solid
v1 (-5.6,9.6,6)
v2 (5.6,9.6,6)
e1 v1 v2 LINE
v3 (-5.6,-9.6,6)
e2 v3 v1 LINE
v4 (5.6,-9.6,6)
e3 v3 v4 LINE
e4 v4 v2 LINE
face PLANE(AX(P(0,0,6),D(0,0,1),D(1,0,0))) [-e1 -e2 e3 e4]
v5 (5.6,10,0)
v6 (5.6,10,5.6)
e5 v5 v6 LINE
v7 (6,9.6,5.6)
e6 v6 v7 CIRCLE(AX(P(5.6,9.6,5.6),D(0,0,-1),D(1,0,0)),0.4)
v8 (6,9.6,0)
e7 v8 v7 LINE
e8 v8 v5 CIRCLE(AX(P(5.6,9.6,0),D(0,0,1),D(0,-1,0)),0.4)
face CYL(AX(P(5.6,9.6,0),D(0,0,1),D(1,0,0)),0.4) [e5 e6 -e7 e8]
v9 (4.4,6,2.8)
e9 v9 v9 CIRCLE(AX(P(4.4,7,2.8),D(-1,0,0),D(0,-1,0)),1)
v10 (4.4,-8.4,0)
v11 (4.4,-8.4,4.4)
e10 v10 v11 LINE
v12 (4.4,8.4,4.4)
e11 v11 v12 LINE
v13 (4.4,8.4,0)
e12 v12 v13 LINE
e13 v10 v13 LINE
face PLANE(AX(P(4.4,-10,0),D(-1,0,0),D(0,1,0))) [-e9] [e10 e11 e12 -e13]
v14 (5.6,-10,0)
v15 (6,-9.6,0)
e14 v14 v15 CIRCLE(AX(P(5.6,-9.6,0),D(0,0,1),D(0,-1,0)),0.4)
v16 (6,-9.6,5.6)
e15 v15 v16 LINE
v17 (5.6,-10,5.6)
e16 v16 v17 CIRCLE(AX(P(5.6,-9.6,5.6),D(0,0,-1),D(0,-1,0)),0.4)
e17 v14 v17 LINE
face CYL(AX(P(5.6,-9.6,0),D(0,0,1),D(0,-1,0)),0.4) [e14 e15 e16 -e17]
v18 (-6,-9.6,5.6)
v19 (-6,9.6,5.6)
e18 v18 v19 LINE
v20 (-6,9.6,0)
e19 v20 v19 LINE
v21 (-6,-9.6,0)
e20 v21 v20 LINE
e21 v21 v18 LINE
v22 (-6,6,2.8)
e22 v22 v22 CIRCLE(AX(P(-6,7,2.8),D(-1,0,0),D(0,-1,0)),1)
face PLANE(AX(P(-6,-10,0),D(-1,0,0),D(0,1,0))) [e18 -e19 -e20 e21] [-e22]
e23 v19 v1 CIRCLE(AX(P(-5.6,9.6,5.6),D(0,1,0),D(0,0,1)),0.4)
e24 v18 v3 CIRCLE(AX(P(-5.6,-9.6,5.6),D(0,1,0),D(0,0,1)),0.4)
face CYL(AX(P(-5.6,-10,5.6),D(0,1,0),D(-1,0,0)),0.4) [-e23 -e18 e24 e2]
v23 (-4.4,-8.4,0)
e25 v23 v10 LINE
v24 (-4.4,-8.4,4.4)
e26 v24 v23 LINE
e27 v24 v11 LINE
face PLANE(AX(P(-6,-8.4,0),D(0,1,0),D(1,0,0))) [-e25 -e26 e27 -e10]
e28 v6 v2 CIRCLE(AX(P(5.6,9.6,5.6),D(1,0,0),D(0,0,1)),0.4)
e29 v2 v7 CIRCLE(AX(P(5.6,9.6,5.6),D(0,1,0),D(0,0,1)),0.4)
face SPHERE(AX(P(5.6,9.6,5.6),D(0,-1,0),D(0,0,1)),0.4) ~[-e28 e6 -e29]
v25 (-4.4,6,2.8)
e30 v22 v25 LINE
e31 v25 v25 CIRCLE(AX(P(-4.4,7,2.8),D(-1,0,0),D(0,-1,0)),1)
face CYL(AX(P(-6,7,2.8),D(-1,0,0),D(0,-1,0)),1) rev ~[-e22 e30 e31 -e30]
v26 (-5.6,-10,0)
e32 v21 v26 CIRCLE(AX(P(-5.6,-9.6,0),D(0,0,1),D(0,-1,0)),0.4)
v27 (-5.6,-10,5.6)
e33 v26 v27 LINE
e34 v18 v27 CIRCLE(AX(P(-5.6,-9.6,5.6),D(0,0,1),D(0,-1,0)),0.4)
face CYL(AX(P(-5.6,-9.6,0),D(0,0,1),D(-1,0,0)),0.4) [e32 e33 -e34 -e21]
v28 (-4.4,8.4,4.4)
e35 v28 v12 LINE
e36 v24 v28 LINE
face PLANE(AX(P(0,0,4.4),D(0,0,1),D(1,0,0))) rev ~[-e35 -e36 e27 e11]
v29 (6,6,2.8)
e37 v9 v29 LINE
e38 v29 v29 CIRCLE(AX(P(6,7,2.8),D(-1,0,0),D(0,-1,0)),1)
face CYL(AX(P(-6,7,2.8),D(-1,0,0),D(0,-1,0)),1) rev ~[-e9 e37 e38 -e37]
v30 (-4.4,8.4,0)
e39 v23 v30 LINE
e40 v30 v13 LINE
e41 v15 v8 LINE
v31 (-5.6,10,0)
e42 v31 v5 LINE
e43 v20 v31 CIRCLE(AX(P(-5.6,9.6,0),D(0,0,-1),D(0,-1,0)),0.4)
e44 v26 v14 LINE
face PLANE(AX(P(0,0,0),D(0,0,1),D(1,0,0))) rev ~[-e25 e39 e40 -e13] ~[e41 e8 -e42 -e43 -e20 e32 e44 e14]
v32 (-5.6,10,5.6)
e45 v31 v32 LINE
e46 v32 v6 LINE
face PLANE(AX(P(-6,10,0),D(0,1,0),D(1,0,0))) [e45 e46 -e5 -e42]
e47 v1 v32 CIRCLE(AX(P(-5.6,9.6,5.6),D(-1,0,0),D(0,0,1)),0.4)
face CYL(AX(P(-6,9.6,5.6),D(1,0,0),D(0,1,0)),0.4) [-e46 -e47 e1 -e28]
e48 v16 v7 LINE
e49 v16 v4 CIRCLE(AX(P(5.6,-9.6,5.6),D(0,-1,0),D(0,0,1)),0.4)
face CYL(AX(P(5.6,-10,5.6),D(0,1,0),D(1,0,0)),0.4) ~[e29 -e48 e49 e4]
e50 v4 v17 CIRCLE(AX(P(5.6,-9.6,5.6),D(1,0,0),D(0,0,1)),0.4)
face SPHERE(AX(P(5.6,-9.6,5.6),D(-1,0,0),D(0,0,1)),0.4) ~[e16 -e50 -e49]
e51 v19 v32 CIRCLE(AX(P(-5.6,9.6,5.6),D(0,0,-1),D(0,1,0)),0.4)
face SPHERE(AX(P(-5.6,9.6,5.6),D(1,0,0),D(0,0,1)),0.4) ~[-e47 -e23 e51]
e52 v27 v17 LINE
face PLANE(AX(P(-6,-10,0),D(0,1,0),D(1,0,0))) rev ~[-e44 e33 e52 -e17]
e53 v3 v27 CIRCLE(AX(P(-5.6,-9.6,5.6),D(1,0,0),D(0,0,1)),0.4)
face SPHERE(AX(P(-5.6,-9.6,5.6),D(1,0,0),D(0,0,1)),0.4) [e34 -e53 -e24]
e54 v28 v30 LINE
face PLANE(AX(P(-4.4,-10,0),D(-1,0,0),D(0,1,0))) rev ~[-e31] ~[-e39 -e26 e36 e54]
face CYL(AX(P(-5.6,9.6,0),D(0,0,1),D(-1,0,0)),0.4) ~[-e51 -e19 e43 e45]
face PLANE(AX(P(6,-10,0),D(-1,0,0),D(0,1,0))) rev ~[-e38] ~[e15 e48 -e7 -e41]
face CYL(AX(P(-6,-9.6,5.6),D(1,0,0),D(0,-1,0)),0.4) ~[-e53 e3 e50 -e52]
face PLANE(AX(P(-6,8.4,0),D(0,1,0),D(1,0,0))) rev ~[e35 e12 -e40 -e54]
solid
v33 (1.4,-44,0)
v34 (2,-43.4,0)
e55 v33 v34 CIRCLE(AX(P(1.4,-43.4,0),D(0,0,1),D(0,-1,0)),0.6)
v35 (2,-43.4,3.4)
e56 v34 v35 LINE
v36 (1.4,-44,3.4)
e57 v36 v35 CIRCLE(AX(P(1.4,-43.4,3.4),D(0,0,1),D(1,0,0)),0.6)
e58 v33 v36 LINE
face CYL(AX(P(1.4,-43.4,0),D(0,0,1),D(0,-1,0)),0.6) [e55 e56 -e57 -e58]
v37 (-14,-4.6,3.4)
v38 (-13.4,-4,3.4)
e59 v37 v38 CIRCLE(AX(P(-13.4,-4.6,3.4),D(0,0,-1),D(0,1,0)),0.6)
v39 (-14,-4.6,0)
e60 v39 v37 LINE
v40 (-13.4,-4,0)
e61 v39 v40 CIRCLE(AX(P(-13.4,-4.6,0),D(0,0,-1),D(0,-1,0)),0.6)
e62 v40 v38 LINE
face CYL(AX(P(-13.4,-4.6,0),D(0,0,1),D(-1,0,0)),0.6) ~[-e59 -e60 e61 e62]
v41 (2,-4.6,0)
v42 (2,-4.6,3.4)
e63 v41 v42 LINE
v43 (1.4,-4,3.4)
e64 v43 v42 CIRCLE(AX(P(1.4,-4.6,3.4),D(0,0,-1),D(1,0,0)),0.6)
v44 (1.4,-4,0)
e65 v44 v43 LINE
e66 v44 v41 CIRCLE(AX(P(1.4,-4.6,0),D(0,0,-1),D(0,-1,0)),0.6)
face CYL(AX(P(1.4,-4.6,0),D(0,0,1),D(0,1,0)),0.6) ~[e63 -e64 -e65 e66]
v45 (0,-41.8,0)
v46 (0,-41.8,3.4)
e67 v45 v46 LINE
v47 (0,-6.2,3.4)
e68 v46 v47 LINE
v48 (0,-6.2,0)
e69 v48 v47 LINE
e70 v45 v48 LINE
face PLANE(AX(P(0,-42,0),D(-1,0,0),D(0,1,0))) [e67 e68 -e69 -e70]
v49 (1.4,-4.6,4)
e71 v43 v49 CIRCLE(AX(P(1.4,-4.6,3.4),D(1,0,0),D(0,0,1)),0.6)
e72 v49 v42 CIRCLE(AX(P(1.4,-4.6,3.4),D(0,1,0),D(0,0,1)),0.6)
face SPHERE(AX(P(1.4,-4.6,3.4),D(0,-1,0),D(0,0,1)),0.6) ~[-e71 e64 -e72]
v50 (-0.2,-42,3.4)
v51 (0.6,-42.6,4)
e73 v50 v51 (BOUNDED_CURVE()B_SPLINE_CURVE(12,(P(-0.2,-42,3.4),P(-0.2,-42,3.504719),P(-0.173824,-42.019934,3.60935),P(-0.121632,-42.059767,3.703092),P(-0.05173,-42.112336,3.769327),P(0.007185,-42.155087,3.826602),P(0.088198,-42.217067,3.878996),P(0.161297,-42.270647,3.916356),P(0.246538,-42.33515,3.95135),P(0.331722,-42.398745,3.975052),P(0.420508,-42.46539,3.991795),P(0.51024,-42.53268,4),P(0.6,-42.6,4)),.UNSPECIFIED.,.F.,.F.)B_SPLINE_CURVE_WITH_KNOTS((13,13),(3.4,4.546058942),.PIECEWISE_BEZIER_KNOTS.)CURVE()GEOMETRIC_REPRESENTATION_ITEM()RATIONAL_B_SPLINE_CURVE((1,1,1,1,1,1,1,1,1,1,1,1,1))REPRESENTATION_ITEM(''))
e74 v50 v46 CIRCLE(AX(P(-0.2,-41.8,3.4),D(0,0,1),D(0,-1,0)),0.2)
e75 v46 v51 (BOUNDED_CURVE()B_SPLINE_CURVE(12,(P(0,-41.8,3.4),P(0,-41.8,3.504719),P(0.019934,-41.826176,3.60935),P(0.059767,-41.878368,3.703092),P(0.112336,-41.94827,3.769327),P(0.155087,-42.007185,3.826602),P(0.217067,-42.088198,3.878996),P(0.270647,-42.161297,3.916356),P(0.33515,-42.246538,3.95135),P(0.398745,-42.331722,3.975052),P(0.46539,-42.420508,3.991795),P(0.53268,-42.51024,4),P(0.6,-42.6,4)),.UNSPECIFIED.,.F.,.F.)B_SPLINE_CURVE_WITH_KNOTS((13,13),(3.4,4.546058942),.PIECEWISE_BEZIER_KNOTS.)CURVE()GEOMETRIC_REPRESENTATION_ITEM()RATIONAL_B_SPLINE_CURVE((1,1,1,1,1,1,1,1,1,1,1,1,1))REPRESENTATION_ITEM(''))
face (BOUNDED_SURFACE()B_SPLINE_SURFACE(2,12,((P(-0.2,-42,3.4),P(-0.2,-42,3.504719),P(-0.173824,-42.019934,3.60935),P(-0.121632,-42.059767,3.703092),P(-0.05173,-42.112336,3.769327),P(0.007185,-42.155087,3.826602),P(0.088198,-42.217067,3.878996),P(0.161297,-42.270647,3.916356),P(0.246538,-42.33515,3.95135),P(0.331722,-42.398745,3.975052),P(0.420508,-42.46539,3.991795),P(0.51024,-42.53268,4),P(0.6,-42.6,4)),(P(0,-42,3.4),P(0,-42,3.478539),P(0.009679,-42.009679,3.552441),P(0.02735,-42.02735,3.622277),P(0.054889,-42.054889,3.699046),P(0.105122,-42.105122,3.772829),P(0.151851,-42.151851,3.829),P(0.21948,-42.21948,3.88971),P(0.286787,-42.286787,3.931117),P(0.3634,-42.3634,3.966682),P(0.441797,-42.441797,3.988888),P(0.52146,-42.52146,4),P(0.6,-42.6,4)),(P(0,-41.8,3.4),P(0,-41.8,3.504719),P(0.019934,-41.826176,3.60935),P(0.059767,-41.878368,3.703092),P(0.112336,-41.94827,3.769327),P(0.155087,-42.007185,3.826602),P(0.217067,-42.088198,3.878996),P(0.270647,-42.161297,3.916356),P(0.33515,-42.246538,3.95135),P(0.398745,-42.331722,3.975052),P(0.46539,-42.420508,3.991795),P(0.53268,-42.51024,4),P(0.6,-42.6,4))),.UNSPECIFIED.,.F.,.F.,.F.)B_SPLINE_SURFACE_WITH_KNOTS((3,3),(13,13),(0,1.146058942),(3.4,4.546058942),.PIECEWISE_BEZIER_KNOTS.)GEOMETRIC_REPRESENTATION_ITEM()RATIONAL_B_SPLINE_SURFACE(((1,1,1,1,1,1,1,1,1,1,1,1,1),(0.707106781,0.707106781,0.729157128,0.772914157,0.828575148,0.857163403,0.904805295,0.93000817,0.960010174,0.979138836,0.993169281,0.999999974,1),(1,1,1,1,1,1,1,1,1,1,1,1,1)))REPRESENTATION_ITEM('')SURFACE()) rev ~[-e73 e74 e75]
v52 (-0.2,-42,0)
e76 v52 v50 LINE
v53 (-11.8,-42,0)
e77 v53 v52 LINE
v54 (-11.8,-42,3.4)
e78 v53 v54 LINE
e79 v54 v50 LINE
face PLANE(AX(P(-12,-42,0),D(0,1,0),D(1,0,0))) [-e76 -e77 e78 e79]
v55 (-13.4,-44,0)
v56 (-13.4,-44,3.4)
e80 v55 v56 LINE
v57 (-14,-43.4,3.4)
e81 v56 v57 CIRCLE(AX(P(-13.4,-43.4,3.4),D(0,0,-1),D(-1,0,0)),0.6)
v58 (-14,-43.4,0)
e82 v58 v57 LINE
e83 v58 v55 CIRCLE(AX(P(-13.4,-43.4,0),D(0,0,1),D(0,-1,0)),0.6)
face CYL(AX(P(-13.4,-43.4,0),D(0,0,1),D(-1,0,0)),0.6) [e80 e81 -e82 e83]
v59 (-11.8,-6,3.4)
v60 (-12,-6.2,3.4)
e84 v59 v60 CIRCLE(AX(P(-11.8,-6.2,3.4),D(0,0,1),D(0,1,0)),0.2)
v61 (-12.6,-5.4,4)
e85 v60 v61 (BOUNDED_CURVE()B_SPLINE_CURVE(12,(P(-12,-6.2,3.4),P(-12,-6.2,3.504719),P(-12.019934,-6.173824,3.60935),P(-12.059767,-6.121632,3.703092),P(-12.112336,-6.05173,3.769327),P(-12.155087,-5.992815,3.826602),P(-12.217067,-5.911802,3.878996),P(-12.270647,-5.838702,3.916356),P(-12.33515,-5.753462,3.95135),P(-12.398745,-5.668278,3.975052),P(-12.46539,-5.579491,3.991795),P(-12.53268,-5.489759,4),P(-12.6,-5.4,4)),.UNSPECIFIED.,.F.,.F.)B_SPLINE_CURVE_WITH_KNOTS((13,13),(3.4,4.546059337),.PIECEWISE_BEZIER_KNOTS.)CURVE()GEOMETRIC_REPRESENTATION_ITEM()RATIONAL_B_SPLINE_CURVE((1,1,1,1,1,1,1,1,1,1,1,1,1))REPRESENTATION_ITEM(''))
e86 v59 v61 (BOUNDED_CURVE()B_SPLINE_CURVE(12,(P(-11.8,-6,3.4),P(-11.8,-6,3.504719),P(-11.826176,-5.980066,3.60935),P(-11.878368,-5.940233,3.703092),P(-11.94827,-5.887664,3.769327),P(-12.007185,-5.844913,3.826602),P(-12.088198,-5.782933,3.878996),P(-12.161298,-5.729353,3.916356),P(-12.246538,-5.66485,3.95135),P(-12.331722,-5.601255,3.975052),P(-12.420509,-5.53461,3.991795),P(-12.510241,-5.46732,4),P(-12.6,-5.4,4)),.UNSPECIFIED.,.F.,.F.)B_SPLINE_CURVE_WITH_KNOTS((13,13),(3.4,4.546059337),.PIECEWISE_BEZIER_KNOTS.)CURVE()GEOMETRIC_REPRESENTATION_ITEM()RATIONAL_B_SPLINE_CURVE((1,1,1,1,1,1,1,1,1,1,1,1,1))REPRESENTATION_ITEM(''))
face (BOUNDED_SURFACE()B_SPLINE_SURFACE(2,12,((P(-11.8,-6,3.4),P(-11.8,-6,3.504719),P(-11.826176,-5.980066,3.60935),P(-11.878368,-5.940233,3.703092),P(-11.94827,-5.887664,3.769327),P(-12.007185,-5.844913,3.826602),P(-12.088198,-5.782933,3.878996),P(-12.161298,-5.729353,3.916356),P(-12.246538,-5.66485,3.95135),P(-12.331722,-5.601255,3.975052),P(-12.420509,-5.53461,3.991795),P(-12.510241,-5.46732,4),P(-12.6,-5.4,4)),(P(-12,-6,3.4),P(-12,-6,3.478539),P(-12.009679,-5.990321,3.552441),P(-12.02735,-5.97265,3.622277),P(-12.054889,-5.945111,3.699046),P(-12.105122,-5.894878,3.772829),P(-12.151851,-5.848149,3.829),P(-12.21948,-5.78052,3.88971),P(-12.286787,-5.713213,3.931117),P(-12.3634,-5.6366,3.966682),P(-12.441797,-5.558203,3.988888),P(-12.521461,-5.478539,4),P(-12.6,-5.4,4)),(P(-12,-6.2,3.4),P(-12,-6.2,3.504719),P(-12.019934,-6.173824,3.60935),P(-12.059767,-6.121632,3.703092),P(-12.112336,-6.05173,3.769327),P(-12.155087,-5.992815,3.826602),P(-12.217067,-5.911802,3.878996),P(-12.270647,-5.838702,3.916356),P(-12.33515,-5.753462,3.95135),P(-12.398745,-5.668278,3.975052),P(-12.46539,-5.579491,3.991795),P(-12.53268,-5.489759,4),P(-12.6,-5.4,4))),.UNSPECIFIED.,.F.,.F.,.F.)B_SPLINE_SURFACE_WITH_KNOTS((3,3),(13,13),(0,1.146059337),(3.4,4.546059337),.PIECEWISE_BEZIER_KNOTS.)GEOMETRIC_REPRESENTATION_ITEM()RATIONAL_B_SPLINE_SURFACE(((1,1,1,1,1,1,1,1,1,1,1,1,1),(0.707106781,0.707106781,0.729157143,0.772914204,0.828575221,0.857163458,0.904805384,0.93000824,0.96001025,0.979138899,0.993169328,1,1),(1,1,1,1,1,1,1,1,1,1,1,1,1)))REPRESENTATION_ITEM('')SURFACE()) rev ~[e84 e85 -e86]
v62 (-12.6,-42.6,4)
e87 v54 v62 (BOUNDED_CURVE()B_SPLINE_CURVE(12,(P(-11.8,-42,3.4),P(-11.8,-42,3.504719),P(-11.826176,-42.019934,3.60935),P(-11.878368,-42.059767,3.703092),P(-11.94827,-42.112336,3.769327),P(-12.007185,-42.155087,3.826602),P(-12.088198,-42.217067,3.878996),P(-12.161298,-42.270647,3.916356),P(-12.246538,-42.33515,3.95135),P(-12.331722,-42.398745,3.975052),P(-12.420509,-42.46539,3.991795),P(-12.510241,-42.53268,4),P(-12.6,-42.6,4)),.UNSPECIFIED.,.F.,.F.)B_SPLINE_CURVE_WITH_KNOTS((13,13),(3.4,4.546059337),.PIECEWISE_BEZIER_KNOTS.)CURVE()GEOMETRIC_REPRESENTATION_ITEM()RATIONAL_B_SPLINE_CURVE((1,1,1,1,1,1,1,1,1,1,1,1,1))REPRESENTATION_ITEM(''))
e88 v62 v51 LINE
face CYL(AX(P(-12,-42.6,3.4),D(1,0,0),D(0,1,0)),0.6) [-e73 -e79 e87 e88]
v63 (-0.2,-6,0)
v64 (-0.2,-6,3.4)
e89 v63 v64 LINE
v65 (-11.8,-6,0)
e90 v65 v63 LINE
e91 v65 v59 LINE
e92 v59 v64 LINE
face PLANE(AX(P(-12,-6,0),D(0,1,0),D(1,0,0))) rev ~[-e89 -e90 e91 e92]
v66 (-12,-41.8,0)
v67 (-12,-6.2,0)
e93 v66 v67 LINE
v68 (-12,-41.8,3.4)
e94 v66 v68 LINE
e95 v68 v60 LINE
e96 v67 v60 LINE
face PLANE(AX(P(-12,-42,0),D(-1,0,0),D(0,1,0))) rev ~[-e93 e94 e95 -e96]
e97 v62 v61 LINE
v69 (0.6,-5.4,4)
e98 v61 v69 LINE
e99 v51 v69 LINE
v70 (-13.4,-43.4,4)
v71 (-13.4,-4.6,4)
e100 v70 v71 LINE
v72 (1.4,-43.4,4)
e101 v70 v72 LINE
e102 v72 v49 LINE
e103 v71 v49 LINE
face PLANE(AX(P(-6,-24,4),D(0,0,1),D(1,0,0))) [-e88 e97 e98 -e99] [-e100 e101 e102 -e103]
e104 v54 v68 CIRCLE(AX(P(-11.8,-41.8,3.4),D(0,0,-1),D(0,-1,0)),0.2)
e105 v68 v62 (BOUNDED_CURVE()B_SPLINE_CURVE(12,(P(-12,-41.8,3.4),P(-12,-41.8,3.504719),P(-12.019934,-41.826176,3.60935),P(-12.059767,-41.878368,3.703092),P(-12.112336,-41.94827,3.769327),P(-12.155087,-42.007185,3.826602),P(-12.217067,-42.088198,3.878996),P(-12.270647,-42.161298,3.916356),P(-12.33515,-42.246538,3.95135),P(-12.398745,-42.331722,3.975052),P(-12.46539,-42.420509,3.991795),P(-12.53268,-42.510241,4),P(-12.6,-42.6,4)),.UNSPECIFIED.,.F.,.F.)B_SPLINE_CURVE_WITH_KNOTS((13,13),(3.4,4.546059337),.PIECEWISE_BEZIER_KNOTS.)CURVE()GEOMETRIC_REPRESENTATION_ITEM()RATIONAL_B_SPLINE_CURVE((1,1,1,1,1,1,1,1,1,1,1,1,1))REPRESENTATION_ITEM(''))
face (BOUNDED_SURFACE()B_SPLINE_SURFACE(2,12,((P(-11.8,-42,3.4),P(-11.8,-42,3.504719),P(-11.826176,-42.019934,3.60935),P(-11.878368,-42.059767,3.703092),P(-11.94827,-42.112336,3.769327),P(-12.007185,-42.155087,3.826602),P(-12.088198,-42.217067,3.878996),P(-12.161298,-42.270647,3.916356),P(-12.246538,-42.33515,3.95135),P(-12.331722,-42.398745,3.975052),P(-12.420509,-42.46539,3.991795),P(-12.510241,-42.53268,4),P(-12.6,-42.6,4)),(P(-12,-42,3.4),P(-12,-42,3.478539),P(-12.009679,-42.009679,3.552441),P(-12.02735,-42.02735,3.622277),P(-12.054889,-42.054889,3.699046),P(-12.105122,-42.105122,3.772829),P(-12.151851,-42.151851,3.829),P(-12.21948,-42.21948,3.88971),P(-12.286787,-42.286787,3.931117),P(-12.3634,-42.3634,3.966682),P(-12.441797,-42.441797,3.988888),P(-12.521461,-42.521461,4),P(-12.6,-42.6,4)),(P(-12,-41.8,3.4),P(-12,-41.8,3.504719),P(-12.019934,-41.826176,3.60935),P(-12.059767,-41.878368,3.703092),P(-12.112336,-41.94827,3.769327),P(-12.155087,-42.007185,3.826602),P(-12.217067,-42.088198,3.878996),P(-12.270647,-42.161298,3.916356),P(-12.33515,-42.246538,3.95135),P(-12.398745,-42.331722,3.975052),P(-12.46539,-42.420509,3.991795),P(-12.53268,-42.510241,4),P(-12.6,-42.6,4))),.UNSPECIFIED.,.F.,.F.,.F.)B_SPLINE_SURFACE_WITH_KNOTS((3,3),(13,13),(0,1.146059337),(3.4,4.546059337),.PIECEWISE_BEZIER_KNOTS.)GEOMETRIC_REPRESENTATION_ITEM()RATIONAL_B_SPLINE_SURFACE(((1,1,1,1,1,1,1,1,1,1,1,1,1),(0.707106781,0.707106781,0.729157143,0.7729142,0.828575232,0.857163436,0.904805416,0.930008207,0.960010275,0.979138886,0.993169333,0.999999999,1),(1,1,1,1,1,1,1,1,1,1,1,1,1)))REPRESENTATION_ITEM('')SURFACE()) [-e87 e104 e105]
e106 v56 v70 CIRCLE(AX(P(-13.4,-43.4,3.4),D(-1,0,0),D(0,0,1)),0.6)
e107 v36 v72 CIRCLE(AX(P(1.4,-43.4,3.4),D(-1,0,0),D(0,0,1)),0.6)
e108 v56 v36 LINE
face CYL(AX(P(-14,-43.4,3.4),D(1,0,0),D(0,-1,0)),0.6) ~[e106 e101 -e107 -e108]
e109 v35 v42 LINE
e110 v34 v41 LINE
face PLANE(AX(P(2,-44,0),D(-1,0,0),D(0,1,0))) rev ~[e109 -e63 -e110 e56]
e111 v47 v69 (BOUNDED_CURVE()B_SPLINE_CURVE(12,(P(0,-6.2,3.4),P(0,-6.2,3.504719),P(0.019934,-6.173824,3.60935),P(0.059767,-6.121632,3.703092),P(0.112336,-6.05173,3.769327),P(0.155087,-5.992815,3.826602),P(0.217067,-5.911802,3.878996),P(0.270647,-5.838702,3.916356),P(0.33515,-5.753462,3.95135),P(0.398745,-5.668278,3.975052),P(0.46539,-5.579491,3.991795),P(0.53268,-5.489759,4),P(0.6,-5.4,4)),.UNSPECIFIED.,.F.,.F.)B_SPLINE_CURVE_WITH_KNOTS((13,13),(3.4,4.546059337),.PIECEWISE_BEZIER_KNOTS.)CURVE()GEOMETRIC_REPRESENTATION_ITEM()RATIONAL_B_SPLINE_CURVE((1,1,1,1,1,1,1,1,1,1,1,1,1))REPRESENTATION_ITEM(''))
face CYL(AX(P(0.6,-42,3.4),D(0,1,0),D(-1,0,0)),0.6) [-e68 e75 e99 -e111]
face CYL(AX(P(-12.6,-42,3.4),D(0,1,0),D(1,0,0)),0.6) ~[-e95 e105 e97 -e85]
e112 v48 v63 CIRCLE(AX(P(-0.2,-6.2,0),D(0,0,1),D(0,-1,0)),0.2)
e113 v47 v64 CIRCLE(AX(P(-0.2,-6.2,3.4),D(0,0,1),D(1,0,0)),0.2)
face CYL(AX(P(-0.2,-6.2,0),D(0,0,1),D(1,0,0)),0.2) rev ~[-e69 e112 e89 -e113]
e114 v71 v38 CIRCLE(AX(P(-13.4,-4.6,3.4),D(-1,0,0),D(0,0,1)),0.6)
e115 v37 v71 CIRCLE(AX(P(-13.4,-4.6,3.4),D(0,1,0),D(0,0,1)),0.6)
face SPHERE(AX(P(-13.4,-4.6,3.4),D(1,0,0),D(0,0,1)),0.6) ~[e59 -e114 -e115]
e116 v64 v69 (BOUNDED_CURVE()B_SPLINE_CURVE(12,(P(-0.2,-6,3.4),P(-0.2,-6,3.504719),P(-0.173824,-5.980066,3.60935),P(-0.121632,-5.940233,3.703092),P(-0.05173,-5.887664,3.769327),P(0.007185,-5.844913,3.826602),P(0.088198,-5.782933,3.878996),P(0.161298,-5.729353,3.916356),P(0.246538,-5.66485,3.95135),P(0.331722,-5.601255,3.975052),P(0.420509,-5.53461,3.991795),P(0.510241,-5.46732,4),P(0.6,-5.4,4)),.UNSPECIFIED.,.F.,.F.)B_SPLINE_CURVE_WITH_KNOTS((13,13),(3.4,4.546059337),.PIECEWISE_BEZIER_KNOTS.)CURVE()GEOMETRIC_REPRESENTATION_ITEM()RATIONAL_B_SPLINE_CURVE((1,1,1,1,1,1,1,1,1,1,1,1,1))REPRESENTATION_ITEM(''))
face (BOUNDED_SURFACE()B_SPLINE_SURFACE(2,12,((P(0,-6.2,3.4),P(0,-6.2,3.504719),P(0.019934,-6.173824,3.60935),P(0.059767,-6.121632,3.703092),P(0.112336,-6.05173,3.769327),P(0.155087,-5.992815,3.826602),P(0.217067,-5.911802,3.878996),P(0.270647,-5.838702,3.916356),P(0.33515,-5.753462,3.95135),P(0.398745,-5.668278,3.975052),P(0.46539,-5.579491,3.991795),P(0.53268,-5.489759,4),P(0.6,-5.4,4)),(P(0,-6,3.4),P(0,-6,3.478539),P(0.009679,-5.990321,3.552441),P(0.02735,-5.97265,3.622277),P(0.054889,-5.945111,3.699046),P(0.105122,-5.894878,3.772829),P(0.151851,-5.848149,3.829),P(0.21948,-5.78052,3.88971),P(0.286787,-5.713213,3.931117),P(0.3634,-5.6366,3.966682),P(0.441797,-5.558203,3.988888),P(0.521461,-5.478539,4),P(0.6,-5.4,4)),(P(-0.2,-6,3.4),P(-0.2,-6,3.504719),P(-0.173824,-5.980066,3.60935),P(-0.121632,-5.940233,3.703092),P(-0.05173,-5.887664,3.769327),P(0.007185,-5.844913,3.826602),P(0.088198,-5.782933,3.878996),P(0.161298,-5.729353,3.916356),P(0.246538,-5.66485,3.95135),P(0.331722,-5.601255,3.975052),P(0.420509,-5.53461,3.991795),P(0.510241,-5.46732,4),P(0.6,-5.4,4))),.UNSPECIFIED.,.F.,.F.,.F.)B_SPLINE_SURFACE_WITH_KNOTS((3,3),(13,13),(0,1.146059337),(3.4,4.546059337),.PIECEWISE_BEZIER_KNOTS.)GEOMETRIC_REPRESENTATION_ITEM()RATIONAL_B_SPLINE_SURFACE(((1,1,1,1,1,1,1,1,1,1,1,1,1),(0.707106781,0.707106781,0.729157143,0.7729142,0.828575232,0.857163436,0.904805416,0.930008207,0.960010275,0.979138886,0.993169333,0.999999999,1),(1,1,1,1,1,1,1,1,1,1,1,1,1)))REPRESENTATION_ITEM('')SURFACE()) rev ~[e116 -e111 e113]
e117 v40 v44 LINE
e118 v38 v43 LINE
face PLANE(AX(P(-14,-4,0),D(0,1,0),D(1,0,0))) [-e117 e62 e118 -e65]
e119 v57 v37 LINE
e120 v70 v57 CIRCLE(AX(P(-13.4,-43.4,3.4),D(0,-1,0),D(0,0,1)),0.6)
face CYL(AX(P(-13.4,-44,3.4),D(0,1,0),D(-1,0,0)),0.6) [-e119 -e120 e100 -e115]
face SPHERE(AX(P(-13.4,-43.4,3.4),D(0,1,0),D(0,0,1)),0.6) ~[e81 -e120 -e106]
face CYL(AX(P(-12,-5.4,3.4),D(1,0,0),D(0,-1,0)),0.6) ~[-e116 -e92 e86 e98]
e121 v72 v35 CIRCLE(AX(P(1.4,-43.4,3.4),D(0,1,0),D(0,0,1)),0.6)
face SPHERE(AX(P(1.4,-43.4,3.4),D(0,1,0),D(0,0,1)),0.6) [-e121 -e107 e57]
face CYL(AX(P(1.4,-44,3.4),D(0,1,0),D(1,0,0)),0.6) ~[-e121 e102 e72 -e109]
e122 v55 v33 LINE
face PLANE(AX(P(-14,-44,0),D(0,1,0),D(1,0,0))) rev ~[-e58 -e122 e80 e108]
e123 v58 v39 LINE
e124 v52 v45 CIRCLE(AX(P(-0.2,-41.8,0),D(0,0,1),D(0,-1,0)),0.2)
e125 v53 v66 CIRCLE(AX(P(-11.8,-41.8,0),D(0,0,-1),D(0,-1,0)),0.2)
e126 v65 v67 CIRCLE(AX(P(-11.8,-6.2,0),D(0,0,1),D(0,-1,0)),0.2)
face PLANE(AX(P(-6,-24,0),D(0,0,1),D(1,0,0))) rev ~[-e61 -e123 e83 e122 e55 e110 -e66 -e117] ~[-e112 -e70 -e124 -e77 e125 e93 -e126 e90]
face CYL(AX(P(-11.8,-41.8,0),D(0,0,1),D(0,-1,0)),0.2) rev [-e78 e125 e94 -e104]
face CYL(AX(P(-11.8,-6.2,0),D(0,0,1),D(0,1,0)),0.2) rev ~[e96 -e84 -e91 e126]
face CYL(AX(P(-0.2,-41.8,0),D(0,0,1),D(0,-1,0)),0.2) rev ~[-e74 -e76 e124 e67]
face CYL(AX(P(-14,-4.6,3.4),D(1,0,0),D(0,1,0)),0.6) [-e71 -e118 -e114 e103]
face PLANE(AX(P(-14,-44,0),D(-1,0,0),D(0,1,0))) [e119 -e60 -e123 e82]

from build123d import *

# Parameters (mm, degrees)
F0_W     = 12
F0_H     = 20
F1_DEPTH = 6
F2_T     = -1.6
F3_W     = 16
F3_H     = 40
F3_W_2   = 12
F3_H_2   = 36
F4_DEPTH = 4
F5_R     = 0.4
F6_R     = 0.6
F7_R     = 0.2
F8_R     = 1
F9_DEPTH = 25


with BuildPart() as f1:
    # F0 (on Top) → F1 (new body)
    with BuildSketch(Plane.XY):
        Rectangle(F0_W, F0_H)
    extrude(amount=F1_DEPTH)

    # F2
    f2_openings = [f1.faces().sort_by_distance(p)[0] for p in [
        (0, 0, 0),
    ]]
    offset(amount=F2_T, openings=f2_openings)

    # F5
    f5_edges = [f1.edges().sort_by_distance(p)[0] for p in [
        (0, -10, 6),
        (6, 0, 6),
        (0, 10, 6),
        (-6, 0, 6),
        (-6, 10, 3),
        (-6, -10, 3),
        (6, -10, 3),
        (6, 10, 3),
    ]]
    fillet(f5_edges, radius=F5_R)

    # F8 (on face) → F9 (cut)
    with BuildSketch(Plane(origin=(-6, 0, 0), x_dir=(0, -1, 0), z_dir=(-1, 0, 0))):
        with Locations((-7, 2.8)):
            Circle(F8_R)
    extrude(amount=-F9_DEPTH, mode=Mode.SUBTRACT)


with BuildPart() as f4:
    # F3 (on Top) → F4 (new body)
    with BuildSketch(Plane.XY):
        with Locations((-6, -24)):
            Rectangle(F3_W, F3_H)
        with Locations((-6, -24)):
            Rectangle(F3_W_2, F3_H_2, mode=Mode.SUBTRACT)
    extrude(amount=F4_DEPTH)

    # F6
    f6_edges = [f4.edges().sort_by_distance(p)[0] for p in [
        (2, -24, 4),
        (-6, -4, 4),
        (-14, -24, 4),
        (-6, -44, 4),
        (-6, -6, 4),
        (0, -24, 4),
        (-6, -42, 4),
        (-12, -24, 4),
        (-14, -4, 2),
        (2, -4, 2),
        (2, -44, 2),
        (-14, -44, 2),
    ]]
    fillet(f6_edges, radius=F6_R)

    # F7
    f7_edges = [f4.edges().sort_by_distance(p)[0] for p in [
        (-12, -6, 1.7),
        (0, -6, 1.7),
        (-12, -42, 1.7),
        (0, -42, 1.7),
    ]]
    fillet(f7_edges, radius=F7_R)


solid = Compound([f1.part, f4.part])
